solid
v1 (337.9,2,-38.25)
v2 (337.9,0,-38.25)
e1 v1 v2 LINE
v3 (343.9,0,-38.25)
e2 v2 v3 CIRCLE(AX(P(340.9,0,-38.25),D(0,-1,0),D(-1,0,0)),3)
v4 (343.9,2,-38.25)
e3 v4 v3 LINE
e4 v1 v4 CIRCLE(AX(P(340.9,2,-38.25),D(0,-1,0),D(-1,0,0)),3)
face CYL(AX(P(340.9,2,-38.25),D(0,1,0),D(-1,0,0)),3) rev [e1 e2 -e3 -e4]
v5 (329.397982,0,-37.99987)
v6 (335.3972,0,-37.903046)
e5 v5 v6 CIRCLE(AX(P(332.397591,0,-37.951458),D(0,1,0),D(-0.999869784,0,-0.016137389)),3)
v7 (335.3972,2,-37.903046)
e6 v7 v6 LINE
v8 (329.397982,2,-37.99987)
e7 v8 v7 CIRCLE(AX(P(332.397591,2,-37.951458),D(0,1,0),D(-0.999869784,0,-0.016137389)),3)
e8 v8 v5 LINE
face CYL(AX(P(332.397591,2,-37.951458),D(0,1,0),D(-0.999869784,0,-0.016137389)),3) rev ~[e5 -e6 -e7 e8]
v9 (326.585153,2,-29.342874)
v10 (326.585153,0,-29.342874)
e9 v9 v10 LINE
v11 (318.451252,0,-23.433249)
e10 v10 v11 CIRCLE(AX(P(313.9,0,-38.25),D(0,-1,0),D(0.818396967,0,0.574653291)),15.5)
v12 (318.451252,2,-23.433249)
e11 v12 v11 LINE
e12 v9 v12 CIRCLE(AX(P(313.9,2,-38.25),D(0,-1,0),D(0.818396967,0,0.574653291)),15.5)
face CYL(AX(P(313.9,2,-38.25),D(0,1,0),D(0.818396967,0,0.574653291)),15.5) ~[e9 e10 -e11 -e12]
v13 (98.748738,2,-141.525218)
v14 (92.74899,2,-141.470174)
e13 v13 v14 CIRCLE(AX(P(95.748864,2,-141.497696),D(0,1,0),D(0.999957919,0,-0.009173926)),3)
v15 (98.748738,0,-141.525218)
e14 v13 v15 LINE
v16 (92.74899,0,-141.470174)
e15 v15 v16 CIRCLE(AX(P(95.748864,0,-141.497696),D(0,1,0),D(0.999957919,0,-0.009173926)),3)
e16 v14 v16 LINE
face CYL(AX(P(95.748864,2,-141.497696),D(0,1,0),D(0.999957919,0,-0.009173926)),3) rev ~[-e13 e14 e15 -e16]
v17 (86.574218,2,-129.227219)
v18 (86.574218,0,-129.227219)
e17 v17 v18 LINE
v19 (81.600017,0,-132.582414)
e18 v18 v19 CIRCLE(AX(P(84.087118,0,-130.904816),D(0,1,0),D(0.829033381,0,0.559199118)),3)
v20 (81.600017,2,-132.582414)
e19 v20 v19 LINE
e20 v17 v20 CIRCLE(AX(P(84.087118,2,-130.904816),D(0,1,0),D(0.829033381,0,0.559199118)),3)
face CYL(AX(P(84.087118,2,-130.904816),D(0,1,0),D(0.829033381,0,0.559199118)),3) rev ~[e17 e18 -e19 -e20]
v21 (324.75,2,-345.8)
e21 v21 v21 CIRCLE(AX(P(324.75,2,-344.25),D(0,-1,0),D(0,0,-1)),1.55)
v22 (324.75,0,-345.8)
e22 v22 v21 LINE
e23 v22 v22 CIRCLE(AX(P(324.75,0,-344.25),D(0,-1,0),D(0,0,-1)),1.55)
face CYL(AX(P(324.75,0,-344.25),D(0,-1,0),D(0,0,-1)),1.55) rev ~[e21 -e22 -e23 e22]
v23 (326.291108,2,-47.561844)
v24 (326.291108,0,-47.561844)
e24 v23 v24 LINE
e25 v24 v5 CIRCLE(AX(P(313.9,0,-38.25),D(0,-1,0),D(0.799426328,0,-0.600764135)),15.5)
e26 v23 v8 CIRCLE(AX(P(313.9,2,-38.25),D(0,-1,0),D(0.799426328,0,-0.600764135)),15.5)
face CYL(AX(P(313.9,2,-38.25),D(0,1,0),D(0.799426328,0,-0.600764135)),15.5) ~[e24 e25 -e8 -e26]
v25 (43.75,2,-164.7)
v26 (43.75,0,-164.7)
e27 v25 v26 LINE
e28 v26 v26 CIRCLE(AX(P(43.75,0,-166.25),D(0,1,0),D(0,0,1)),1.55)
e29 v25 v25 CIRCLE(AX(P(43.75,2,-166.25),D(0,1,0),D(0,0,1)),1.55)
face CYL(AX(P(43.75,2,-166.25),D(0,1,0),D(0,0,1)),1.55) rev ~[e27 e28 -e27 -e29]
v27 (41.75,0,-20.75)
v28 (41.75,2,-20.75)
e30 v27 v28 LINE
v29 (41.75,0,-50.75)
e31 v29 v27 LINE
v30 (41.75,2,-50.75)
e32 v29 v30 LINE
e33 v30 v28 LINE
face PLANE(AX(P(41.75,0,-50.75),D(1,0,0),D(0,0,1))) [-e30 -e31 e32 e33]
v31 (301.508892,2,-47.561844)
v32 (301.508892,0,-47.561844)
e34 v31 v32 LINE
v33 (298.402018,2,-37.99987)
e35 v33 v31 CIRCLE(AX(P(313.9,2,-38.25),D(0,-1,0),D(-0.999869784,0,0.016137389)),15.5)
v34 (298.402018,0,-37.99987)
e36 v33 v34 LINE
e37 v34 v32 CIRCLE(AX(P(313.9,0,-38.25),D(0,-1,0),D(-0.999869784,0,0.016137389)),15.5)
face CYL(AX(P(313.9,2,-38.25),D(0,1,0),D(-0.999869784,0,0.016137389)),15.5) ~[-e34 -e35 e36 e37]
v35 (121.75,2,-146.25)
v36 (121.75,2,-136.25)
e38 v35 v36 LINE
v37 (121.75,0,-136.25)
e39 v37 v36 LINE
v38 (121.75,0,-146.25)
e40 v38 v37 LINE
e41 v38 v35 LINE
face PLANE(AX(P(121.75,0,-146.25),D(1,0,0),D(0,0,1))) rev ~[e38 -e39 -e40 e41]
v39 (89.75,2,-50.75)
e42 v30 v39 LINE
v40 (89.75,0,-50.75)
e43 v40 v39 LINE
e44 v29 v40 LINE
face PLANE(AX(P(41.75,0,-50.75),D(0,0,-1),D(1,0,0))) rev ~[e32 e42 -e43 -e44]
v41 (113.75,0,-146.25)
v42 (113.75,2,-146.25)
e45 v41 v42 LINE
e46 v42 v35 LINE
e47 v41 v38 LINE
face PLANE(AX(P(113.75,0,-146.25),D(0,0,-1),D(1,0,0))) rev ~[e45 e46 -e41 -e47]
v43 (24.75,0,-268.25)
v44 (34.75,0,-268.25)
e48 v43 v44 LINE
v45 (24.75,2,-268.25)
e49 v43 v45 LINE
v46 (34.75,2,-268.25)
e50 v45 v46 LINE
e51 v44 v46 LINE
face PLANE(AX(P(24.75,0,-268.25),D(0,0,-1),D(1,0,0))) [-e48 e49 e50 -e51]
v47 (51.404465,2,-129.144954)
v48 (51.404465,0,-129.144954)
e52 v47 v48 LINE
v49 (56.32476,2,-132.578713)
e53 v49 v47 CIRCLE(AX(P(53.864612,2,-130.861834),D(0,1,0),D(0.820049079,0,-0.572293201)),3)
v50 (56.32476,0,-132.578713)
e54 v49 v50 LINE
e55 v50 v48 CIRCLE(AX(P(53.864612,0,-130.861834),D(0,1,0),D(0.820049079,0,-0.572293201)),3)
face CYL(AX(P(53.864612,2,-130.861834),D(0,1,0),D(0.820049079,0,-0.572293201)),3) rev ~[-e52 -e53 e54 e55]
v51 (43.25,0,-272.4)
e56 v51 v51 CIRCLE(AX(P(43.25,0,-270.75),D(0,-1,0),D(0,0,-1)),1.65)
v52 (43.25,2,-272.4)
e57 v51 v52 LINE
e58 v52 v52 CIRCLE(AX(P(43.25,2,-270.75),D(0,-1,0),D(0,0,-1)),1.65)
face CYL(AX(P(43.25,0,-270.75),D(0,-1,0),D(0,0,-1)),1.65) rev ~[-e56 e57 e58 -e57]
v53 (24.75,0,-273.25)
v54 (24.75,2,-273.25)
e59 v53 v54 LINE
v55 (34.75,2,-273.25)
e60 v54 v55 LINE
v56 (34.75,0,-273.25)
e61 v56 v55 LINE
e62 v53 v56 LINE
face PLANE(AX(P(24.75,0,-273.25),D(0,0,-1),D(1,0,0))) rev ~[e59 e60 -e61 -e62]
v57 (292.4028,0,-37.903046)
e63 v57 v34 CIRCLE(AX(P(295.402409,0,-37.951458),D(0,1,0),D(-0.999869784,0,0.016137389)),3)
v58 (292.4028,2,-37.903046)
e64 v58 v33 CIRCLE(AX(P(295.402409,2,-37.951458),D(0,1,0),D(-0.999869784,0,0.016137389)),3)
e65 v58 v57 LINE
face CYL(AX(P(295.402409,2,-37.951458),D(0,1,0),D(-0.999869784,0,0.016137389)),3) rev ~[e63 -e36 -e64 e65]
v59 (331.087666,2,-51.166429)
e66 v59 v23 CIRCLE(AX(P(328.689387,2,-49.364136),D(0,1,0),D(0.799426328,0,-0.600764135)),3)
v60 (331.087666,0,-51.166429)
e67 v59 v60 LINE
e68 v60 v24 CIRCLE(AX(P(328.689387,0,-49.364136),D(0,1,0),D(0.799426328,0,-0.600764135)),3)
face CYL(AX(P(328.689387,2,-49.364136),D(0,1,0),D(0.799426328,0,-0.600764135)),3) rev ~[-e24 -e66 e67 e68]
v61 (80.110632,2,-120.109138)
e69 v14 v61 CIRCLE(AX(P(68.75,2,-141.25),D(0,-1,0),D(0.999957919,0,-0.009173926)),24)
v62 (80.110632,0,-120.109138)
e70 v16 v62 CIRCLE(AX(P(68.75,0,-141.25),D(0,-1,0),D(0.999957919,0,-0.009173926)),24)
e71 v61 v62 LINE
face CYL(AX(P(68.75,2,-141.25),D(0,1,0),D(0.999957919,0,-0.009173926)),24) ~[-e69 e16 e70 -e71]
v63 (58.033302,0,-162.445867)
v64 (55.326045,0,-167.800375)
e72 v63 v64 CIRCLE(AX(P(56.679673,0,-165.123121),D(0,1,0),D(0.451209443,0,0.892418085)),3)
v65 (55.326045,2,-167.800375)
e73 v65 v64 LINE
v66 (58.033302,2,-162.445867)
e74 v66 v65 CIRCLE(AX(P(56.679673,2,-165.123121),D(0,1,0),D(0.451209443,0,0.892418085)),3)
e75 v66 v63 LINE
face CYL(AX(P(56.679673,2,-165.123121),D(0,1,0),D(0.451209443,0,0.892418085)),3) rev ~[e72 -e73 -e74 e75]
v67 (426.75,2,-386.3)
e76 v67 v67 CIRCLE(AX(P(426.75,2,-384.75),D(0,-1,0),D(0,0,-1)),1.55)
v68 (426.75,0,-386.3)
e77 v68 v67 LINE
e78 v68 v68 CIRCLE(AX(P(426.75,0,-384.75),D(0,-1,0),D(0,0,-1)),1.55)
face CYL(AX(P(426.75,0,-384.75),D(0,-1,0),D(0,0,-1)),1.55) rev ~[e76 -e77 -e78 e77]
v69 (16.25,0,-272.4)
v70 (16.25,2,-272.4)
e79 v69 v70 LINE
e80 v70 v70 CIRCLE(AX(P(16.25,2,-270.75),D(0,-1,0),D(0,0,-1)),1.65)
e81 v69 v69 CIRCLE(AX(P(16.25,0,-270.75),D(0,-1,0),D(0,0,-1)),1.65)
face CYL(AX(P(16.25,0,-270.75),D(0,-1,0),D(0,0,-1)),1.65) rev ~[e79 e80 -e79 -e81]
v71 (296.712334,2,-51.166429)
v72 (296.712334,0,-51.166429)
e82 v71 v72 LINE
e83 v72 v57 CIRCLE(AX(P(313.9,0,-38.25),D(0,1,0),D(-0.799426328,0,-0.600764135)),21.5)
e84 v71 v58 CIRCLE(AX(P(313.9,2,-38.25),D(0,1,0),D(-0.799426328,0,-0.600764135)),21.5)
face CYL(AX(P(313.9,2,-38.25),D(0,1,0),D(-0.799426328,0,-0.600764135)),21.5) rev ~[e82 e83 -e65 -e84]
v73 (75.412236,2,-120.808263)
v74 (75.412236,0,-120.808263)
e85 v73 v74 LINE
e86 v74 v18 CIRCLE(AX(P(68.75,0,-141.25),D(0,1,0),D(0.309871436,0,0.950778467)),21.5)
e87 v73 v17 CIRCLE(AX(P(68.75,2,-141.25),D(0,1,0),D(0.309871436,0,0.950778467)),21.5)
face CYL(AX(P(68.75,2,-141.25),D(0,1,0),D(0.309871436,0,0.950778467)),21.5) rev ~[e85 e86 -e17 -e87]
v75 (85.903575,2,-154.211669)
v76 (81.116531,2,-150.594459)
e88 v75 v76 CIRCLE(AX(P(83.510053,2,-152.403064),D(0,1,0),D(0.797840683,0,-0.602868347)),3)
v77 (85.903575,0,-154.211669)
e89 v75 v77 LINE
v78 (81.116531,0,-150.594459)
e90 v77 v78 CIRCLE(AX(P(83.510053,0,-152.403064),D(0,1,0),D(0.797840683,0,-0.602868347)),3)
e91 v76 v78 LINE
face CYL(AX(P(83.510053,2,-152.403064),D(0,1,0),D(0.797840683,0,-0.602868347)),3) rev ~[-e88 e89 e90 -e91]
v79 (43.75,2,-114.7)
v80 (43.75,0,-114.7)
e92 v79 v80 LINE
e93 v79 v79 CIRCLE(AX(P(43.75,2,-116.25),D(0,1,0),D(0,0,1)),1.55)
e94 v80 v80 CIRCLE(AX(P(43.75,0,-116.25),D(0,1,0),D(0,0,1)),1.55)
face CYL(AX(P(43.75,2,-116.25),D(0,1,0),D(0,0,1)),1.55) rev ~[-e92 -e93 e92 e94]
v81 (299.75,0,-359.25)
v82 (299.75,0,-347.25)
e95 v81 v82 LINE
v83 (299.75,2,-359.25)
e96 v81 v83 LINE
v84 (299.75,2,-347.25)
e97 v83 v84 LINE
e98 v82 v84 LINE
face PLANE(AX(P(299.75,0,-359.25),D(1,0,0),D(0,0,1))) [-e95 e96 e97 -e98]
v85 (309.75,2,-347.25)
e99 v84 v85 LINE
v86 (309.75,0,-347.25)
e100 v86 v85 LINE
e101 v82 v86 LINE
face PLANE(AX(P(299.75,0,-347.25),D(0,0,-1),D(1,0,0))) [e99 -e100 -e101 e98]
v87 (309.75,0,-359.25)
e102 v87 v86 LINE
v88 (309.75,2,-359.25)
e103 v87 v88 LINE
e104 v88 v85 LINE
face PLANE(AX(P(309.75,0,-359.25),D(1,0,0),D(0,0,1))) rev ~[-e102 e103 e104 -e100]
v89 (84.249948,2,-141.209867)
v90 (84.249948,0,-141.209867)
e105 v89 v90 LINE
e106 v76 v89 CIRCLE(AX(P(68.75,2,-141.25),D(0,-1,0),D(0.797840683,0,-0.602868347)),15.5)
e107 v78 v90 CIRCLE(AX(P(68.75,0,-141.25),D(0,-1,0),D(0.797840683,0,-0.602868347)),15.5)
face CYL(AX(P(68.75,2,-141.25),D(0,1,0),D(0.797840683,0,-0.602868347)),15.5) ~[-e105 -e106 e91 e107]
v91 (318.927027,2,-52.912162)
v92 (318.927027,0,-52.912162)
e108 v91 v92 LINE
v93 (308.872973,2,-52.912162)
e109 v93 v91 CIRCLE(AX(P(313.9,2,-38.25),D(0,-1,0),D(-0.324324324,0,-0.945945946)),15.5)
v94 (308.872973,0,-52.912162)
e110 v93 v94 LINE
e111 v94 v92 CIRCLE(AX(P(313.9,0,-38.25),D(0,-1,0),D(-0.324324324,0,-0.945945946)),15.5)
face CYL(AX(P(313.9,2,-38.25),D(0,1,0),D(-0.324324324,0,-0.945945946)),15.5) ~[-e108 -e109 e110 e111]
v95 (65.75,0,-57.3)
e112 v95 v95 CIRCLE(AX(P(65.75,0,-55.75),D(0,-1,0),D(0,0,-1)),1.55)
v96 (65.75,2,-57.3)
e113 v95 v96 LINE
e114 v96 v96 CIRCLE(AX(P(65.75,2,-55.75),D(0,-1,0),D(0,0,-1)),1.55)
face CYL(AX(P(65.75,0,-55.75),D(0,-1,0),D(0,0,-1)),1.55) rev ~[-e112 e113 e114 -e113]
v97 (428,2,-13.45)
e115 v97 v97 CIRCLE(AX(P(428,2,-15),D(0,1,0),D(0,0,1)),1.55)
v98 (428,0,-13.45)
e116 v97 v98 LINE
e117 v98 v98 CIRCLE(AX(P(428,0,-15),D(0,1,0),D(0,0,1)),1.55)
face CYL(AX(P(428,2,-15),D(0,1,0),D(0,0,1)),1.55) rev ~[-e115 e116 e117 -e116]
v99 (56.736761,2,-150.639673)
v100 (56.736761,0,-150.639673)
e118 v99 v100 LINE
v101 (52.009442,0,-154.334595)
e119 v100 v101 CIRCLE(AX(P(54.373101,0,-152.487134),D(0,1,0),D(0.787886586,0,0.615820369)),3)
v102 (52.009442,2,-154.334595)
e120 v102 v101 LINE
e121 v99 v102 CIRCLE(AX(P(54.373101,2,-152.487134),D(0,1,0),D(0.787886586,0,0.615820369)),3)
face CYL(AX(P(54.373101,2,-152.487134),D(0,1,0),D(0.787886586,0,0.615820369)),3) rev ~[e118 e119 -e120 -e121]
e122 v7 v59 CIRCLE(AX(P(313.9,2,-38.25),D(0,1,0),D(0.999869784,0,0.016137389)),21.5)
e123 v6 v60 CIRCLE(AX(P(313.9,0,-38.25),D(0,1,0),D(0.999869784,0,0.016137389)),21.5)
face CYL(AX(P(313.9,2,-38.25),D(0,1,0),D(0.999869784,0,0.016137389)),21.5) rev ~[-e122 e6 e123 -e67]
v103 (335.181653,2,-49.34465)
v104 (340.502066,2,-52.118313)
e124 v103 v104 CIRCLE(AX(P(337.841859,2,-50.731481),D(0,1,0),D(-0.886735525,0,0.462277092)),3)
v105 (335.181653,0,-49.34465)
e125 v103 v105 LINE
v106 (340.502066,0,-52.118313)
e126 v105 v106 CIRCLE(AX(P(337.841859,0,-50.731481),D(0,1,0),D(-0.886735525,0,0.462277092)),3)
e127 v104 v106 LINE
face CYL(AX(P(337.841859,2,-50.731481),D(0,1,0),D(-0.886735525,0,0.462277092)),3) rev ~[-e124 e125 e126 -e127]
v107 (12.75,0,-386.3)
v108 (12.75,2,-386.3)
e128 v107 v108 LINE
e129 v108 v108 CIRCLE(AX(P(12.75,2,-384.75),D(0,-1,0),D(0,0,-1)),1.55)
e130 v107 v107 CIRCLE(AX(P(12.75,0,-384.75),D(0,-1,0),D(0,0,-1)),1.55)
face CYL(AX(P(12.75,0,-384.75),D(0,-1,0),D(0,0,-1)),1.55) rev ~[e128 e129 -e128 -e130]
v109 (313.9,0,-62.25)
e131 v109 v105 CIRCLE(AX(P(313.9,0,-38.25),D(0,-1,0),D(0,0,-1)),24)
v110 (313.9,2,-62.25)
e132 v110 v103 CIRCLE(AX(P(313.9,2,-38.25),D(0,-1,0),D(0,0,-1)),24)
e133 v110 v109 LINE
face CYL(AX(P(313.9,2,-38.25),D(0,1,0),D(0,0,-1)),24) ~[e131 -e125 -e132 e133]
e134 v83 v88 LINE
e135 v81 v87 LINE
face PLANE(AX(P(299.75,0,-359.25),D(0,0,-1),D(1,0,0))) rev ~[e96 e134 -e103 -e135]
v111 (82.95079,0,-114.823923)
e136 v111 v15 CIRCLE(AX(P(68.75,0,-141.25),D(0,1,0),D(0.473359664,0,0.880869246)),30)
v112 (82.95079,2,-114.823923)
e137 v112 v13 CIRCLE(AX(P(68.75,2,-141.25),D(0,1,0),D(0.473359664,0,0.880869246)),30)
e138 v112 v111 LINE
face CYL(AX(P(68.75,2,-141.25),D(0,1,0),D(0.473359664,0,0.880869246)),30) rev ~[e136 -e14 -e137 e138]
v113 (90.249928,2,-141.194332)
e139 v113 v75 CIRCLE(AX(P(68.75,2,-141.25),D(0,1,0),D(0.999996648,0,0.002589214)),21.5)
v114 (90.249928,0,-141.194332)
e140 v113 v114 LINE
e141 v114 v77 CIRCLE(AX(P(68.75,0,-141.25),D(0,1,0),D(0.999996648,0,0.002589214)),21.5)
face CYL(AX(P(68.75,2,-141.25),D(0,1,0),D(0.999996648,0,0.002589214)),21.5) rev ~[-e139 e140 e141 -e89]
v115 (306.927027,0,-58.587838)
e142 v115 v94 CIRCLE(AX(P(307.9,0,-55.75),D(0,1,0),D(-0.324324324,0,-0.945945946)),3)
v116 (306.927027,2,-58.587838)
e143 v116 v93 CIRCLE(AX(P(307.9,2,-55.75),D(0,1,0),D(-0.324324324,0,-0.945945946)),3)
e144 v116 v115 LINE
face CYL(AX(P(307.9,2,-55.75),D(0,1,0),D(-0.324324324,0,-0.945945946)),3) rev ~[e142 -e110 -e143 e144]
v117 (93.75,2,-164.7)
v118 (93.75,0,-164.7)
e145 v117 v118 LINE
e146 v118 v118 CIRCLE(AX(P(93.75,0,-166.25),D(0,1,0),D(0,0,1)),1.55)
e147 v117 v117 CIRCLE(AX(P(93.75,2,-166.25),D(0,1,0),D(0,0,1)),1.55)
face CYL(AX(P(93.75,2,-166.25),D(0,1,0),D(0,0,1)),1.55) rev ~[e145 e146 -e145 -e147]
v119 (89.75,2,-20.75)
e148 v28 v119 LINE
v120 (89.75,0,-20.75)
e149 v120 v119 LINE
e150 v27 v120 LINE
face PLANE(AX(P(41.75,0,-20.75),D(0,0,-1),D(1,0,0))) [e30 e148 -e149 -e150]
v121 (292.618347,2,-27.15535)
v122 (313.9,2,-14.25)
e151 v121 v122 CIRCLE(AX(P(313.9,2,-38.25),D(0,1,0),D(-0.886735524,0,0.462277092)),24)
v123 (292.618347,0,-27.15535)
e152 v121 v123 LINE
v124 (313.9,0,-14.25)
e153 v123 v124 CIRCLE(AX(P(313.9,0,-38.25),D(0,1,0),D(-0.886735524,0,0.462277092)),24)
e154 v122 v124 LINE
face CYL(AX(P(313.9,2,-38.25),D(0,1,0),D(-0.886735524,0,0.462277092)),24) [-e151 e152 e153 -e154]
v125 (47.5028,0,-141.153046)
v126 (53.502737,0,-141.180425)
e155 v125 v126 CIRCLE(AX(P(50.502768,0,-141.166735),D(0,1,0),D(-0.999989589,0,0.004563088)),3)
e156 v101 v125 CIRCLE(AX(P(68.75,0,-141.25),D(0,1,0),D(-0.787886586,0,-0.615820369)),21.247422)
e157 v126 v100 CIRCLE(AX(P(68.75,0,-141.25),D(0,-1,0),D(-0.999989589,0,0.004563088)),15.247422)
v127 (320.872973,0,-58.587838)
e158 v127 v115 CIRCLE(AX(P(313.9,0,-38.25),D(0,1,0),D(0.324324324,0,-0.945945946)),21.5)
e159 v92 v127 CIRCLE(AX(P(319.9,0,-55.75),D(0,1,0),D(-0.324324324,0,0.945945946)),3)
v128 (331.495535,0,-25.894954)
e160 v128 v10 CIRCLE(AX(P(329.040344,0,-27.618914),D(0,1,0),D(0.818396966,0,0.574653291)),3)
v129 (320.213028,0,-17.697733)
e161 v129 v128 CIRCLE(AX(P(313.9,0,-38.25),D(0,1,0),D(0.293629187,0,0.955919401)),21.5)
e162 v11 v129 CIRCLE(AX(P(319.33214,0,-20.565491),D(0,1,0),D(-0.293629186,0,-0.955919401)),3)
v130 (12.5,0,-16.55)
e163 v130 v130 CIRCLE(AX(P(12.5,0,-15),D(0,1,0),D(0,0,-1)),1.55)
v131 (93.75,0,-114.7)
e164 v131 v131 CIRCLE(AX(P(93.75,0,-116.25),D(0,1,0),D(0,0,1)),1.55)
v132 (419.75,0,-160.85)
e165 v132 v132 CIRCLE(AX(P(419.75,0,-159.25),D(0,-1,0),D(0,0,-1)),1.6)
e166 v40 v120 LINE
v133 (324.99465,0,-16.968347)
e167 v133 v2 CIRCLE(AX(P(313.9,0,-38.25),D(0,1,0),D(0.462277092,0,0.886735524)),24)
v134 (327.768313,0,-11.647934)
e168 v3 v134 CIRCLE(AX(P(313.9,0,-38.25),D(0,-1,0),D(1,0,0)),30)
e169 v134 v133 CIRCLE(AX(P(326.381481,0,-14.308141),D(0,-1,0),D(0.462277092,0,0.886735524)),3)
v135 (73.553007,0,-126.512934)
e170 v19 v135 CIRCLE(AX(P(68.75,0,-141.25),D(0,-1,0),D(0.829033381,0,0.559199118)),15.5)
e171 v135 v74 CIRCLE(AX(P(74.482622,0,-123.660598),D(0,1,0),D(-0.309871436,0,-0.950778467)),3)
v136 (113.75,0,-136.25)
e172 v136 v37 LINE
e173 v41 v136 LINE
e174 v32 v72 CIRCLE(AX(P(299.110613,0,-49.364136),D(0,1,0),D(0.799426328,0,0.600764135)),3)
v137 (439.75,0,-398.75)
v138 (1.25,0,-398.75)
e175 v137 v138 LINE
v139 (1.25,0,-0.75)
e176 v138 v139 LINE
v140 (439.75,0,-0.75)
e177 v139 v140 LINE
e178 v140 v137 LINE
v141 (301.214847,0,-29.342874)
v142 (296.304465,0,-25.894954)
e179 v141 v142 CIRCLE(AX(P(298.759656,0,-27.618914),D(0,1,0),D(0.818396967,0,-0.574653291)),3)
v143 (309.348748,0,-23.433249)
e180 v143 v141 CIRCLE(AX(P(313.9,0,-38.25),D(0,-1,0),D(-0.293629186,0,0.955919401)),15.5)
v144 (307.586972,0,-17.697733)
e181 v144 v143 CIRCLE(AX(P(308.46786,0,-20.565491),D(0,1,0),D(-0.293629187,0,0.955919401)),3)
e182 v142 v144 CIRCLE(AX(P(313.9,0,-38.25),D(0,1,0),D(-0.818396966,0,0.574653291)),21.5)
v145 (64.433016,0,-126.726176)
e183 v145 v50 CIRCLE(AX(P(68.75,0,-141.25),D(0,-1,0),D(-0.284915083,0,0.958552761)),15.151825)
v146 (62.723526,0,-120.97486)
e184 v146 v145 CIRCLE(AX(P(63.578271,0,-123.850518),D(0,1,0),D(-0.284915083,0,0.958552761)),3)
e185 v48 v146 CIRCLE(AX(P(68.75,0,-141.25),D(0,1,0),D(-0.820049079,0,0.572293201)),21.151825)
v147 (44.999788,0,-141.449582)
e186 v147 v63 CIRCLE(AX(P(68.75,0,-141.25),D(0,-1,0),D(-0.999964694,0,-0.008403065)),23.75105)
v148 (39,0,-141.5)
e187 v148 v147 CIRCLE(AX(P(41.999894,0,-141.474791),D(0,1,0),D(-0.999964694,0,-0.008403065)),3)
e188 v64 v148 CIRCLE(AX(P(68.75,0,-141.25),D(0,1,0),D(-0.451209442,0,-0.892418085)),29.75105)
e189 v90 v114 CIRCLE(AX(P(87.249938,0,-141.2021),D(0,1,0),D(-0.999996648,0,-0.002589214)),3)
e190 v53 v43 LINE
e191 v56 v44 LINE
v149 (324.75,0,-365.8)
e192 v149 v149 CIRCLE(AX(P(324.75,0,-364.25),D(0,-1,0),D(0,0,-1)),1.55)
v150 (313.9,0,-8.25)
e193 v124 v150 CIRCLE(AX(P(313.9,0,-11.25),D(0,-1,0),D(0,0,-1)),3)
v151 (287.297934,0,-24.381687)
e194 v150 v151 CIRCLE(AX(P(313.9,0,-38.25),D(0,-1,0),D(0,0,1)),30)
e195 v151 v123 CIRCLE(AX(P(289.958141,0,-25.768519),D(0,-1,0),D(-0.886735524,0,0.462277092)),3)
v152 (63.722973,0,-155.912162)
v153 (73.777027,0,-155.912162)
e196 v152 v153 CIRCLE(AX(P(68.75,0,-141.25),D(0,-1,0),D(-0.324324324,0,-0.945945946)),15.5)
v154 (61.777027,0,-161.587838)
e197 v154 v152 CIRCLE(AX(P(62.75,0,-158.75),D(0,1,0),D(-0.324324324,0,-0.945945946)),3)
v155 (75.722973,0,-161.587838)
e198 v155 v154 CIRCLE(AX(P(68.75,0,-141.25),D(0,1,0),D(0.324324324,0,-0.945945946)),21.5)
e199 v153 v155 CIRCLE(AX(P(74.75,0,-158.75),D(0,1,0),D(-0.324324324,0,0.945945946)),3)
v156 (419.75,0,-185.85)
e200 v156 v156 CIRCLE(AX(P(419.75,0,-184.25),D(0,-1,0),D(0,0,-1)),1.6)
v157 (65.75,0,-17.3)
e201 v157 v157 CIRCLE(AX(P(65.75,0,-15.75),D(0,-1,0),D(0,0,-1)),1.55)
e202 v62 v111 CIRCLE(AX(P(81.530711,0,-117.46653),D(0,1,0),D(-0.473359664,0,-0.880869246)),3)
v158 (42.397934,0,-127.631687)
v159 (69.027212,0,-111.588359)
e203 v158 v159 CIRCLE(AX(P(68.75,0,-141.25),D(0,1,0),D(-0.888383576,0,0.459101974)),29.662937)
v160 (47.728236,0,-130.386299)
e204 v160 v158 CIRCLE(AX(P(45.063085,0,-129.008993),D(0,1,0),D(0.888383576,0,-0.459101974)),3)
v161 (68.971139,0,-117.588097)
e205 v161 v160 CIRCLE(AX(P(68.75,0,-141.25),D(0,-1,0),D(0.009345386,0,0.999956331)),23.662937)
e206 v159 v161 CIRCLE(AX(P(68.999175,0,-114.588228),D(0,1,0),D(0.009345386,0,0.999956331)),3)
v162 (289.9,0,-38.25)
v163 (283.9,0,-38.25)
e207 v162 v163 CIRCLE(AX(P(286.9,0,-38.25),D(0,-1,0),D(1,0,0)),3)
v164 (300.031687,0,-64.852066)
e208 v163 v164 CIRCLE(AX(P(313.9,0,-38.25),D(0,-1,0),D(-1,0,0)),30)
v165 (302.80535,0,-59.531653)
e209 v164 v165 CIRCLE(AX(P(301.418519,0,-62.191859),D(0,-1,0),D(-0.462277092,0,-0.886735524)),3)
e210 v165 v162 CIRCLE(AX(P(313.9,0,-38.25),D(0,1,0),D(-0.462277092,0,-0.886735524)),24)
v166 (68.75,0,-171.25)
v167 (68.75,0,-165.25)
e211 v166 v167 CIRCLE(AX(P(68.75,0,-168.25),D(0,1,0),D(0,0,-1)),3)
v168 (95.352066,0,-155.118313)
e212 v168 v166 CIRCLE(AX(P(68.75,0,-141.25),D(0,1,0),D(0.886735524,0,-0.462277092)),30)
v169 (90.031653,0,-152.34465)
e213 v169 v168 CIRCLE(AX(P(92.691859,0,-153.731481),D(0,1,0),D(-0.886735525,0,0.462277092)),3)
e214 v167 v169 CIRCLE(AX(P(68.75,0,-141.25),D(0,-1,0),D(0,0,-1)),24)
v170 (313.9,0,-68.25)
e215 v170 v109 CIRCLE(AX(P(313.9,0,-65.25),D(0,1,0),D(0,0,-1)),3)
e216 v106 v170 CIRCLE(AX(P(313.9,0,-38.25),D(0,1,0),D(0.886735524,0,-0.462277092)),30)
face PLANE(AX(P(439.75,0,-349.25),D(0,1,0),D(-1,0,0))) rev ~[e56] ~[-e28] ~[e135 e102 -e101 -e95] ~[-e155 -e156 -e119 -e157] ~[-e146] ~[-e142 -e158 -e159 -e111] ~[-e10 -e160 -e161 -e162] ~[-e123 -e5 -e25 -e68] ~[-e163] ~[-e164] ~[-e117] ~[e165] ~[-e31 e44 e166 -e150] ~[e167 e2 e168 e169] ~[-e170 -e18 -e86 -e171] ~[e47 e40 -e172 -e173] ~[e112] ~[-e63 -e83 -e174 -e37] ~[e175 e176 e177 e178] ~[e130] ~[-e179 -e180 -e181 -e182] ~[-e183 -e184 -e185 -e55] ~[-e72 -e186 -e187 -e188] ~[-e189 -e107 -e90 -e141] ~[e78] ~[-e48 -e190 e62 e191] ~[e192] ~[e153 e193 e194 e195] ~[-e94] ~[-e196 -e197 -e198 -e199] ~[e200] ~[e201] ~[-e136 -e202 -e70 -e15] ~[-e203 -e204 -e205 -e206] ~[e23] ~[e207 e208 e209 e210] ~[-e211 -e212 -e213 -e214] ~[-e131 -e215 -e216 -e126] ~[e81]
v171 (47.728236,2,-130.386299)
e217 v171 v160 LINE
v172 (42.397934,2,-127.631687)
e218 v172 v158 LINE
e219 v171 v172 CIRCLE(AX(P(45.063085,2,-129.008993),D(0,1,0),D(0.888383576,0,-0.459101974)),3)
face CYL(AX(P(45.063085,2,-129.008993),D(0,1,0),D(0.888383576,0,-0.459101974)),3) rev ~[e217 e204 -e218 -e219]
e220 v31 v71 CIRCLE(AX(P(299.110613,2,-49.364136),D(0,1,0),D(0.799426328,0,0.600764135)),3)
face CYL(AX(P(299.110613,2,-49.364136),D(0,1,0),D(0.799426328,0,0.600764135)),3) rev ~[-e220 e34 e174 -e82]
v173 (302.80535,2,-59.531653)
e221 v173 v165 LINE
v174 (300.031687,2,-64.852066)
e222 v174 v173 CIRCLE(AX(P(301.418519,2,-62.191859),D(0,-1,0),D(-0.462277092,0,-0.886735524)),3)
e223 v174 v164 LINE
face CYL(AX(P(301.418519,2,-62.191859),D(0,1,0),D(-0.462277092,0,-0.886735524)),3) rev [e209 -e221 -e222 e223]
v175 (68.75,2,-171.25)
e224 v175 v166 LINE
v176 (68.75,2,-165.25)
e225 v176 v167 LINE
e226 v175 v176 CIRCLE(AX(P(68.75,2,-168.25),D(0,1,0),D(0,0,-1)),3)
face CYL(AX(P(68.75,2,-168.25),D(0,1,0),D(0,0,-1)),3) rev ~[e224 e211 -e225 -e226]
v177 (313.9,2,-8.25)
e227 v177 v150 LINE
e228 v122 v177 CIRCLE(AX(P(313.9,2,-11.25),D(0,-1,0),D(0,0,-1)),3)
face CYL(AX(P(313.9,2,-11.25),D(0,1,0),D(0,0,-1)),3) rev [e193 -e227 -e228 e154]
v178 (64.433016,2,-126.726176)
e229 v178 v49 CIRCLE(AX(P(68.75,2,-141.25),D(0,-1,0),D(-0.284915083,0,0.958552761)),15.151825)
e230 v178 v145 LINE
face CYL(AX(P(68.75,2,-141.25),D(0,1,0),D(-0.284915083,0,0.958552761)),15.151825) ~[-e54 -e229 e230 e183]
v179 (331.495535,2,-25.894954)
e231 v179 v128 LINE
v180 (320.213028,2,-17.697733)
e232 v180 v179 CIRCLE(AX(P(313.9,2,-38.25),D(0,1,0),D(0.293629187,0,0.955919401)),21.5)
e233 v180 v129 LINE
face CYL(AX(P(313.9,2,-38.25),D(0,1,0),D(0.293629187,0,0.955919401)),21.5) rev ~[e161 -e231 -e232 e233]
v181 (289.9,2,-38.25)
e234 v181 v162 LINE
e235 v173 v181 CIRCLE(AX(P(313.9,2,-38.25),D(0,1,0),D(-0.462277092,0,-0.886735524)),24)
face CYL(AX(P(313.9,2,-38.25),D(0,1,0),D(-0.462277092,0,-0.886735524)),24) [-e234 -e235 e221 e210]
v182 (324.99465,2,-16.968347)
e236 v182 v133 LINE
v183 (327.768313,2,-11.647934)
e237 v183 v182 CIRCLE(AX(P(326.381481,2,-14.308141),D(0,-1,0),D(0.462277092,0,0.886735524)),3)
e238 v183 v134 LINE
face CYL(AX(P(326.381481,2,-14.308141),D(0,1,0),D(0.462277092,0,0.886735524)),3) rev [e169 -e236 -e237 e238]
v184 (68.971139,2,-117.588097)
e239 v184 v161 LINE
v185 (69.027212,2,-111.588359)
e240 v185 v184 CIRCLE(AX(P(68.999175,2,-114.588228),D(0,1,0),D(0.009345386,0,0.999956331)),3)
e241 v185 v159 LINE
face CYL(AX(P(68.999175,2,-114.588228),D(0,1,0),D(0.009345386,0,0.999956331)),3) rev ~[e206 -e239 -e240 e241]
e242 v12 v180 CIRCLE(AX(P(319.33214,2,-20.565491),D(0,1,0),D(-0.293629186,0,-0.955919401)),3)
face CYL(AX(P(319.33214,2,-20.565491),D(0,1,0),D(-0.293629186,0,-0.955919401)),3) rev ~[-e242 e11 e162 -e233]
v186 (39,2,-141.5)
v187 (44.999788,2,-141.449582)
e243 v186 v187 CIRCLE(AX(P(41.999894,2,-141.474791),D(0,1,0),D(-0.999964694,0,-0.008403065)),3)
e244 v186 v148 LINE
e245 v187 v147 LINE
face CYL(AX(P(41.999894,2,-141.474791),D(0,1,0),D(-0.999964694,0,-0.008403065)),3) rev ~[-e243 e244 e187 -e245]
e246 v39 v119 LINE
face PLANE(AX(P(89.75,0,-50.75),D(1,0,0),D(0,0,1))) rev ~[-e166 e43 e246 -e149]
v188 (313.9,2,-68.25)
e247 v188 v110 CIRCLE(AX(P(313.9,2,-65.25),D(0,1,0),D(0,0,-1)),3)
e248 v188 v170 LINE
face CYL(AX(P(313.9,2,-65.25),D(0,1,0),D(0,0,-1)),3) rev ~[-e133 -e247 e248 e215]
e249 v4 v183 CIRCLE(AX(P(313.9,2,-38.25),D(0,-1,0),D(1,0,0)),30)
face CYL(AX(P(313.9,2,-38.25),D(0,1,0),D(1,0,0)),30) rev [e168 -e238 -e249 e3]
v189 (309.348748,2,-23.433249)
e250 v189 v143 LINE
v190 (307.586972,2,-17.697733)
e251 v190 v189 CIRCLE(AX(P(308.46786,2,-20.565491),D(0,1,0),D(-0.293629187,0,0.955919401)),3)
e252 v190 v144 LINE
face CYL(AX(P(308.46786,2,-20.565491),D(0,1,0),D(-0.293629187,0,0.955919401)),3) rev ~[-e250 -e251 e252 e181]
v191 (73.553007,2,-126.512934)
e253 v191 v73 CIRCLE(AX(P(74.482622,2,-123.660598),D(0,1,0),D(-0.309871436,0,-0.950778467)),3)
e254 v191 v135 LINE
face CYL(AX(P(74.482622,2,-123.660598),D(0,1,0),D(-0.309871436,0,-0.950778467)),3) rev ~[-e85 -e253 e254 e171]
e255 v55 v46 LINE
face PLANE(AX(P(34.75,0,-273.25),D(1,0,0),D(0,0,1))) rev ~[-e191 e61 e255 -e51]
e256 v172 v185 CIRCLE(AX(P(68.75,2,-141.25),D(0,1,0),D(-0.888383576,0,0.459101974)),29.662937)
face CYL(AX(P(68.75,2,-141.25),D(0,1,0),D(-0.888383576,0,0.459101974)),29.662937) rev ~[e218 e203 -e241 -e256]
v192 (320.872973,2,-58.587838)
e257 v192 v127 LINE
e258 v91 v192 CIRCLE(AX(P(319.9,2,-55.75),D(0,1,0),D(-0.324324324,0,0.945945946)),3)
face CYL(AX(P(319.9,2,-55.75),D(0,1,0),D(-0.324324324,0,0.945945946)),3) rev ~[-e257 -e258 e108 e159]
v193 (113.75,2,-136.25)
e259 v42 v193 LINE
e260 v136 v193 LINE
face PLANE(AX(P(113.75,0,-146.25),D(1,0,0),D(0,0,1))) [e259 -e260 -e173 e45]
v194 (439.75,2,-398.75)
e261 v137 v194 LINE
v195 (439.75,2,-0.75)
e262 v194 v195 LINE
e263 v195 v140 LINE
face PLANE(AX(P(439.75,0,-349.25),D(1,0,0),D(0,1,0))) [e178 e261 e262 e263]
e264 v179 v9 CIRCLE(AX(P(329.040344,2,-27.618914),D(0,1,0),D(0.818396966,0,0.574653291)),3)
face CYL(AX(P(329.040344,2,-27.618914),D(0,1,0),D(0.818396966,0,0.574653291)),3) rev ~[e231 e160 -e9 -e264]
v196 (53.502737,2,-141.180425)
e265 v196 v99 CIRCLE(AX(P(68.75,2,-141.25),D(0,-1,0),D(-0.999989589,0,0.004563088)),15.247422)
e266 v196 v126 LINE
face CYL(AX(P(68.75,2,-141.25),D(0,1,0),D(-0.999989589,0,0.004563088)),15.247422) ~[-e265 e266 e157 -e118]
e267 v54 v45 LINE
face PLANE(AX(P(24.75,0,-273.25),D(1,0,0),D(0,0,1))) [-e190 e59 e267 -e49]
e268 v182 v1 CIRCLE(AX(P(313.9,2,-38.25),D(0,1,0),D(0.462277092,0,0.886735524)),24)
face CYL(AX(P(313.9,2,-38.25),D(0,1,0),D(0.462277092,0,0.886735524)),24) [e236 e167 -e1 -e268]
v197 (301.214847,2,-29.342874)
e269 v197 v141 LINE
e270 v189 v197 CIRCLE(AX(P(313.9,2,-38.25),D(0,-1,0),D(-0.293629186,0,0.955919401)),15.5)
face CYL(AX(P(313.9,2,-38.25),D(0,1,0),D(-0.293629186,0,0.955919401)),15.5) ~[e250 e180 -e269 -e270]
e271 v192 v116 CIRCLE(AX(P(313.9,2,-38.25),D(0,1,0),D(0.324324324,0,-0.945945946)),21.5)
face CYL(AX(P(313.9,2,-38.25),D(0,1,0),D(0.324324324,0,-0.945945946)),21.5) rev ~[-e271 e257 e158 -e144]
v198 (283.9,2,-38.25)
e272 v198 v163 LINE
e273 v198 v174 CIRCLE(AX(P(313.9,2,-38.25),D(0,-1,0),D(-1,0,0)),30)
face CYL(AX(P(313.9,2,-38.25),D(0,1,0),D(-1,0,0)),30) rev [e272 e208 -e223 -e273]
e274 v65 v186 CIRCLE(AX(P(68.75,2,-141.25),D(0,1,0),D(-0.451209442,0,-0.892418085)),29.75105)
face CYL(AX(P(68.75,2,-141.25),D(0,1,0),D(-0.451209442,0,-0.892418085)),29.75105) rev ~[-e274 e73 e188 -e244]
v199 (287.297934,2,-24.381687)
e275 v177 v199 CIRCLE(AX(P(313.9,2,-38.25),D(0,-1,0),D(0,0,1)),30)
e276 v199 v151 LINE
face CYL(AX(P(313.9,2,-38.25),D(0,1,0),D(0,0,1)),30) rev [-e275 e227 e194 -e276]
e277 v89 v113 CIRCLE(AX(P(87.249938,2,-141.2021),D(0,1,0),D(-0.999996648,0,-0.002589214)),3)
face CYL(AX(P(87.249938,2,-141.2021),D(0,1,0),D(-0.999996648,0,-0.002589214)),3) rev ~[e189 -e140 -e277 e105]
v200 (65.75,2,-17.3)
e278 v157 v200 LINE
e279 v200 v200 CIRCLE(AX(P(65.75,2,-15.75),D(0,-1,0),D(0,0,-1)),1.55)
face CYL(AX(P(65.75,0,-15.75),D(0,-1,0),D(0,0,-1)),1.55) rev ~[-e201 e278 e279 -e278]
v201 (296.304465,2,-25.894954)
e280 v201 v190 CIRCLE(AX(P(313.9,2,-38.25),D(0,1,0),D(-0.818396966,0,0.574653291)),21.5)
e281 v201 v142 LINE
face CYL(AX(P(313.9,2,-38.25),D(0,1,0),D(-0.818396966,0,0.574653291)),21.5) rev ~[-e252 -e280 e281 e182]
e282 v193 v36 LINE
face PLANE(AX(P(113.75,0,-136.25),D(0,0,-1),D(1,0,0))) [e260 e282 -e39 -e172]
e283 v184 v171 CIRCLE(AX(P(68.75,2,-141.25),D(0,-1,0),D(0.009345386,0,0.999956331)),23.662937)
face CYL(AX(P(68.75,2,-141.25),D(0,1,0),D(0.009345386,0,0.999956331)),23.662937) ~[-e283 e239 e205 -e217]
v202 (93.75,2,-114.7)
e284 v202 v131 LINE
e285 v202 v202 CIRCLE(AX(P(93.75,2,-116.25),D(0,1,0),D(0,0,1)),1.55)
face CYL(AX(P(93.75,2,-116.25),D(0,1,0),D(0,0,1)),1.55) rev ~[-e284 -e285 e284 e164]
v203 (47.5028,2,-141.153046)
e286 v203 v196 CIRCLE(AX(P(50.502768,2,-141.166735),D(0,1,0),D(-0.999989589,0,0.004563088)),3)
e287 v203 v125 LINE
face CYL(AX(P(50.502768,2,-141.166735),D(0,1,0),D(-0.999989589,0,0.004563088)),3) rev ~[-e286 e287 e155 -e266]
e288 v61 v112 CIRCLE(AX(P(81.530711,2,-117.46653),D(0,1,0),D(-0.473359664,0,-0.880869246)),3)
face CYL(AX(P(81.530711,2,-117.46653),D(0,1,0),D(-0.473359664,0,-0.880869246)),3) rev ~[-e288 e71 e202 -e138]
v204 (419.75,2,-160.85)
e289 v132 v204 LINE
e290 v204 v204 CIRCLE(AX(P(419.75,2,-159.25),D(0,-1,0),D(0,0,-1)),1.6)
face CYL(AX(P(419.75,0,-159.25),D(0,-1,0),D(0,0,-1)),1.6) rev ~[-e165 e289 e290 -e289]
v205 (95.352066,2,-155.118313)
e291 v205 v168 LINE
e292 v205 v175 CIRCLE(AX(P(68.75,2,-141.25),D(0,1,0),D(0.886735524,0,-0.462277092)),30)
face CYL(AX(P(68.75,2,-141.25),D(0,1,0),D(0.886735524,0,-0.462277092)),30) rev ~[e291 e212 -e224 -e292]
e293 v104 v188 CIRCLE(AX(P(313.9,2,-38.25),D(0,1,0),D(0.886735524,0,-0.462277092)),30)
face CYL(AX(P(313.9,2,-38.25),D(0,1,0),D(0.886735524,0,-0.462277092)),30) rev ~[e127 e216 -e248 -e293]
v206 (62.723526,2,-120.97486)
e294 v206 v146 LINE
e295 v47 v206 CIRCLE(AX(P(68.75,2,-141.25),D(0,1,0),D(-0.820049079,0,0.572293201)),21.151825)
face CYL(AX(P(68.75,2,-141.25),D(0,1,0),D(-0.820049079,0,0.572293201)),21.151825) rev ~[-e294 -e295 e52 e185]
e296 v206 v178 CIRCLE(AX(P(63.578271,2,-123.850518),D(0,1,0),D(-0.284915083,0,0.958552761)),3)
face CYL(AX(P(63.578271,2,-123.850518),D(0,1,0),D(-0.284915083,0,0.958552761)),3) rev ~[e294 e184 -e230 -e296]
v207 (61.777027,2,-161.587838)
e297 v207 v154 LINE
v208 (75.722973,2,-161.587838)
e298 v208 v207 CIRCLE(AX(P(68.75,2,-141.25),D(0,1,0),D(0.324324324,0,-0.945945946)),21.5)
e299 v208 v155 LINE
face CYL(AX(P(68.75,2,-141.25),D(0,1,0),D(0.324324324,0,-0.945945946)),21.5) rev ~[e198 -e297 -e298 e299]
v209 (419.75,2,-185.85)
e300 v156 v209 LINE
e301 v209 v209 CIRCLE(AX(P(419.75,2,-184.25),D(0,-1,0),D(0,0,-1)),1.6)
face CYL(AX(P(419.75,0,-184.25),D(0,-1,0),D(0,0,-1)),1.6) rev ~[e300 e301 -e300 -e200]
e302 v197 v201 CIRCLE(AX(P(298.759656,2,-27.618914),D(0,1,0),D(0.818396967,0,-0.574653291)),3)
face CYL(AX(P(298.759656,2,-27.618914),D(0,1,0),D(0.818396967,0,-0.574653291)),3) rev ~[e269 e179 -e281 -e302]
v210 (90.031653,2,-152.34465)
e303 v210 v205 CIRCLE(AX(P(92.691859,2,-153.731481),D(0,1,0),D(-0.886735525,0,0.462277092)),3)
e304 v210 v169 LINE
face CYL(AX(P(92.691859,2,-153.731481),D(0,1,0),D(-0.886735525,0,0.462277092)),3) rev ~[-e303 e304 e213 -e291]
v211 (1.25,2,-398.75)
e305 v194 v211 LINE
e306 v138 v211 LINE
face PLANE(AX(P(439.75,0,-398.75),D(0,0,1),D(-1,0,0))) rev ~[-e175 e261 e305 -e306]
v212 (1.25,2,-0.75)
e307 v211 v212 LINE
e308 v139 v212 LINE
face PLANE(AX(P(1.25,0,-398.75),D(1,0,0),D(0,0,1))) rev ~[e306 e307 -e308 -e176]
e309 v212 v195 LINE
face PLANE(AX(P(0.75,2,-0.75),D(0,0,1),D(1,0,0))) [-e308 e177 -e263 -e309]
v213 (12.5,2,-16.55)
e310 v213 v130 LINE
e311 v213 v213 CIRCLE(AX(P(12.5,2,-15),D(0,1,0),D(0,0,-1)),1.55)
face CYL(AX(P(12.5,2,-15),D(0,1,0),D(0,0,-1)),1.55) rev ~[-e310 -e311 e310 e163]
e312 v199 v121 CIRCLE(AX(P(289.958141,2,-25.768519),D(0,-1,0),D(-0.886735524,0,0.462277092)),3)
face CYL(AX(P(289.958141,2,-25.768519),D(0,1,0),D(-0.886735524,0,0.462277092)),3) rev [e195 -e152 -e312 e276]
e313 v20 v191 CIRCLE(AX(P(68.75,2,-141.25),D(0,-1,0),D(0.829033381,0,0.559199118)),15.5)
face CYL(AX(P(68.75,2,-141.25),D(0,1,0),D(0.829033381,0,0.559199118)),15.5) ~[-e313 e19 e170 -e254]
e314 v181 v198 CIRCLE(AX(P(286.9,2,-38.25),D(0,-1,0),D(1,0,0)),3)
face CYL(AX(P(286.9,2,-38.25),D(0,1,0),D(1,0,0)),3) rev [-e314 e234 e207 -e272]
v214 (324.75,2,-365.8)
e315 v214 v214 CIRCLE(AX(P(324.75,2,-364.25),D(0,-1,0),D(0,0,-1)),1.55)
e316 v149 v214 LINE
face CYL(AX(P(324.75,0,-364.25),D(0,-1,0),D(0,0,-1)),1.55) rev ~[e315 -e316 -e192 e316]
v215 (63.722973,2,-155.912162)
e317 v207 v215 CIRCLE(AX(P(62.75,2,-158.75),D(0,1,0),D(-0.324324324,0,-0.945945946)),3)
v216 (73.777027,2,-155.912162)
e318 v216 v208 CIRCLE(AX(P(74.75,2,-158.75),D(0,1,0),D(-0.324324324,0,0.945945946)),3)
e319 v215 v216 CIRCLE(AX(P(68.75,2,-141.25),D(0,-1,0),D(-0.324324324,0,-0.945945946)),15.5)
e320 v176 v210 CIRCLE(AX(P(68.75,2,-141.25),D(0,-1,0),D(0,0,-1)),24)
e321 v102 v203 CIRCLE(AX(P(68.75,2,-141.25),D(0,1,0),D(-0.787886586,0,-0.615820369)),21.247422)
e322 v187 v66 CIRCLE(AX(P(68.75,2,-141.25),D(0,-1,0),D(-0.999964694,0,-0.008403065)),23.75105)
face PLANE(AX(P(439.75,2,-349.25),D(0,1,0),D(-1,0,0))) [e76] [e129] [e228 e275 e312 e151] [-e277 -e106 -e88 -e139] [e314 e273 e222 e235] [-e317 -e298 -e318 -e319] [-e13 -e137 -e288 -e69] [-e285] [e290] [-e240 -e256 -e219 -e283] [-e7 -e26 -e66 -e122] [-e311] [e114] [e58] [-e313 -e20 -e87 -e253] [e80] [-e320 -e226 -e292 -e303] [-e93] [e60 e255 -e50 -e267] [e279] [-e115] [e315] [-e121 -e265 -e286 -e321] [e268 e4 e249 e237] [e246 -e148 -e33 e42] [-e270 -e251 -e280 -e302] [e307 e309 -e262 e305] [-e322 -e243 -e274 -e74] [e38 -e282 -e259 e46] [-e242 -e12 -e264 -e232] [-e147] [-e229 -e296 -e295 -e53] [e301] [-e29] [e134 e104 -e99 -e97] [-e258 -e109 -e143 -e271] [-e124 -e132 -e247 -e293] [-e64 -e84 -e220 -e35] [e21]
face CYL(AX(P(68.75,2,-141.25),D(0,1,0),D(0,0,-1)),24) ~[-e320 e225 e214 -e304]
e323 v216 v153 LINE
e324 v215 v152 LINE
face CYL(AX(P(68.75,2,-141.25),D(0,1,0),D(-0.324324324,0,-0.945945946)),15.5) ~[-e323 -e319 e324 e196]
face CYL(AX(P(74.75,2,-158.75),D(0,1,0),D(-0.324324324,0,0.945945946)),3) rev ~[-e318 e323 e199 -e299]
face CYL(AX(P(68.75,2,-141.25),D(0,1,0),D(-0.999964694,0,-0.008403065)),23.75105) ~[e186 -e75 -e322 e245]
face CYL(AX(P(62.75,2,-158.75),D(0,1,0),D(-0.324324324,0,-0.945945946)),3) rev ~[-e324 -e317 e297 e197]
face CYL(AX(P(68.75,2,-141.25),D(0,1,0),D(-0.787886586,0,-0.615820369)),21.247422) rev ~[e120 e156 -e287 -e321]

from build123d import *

# Parameters (mm, degrees)
CROQUIS1_W              = 440.5
CROQUIS1_H              = 320
SALIENTE_EXTRUIR1_DEPTH = 2
CROQUIS2_R              = 1.55
CORTAR_EXTRUIR1_DEPTH   = 2
CROQUIS3_W              = 440.5
CROQUIS3_H              = 320
CROQUIS3_W_2            = 439
CROQUIS3_H_2            = 318.5
CORTAR_EXTRUIR2_DEPTH   = 2
CROQUIS4_R              = 1.55
CORTAR_EXTRUIR3_DEPTH   = 2
CROQUIS5_R              = 1.55
CROQUIS5_W              = 48
CROQUIS5_H              = 30
CORTAR_EXTRUIR4_DEPTH   = 2
CROQUIS8_W              = 439
CROQUIS8_H              = 30
SALIENTE_EXTRUIR2_DEPTH = 2
CROQUIS10_R             = 1.75
SALIENTE_EXTRUIR3_DEPTH = 2
CROQUIS11_W             = 439
CROQUIS11_H             = 2
SALIENTE_EXTRUIR4_DEPTH = 50
CROQUIS12_R             = 1.55
CORTAR_EXTRUIR8_DEPTH   = 2
CROQUIS13_R             = 1.55
CROQUIS13_W             = 10
CROQUIS13_H             = 12
CORTAR_EXTRUIR9_DEPTH   = 2
CROQUIS14_W             = 8
CROQUIS14_H             = 10
CORTAR_EXTRUIR10_DEPTH  = 2
CROQUIS15_R             = 1.6
CORTAR_EXTRUIR11_DEPTH  = 2
CROQUIS18_W             = 0.5
CROQUIS18_H             = 398
CORTAR_EXTRUIR13_DEPTH  = 2
CROQUIS19_R             = 1.65
CROQUIS19_W             = 10
CROQUIS19_H             = 5
CORTAR_EXTRUIR14_DEPTH  = 2


with BuildPart() as part:
    # Croquis1 → Saliente-Extruir1 (new body)
    with BuildSketch(Plane(origin=(0, 0, 0), x_dir=(1, 0, 0), z_dir=(0, 1, 0))):
        with Locations((220.25, 160)):
            Rectangle(CROQUIS1_W, CROQUIS1_H)
    extrude(amount=SALIENTE_EXTRUIR1_DEPTH)

    # Croquis2 → Cortar-Extruir1 (cut)
    with BuildSketch(Plane(origin=(0, 2, 0), x_dir=(1, 0, 0), z_dir=(0, 1, 0))):
        with Locations(Location((12.5, 305, 0), (0, 0, 270))):
            Circle(CROQUIS2_R)
        with Locations(Location((428, 305, 0), (0, 0, 90))):
            Circle(CROQUIS2_R)
        with Locations(Location((428, 15, 0), (0, 0, 270))):
            Circle(CROQUIS2_R)
        with Locations(Location((12.5, 15, 0), (0, 0, 90))):
            Circle(CROQUIS2_R)
    extrude(amount=-CORTAR_EXTRUIR1_DEPTH, mode=Mode.SUBTRACT)

    # Croquis3 → Cortar-Extruir2 (cut)
    with BuildSketch(Plane(origin=(0, 2, 0), x_dir=(1, 0, 0), z_dir=(0, 1, 0))):
        with Locations((220.25, 160)):
            Rectangle(CROQUIS3_W, CROQUIS3_H)
        with Locations((220.25, 160)):
            Rectangle(CROQUIS3_W_2, CROQUIS3_H_2, mode=Mode.SUBTRACT)
    extrude(amount=-CORTAR_EXTRUIR2_DEPTH, mode=Mode.SUBTRACT)

    # Croquis4 → Cortar-Extruir3 (cut)
    with BuildSketch(Plane(origin=(0, 2, 0), x_dir=(1, 0, 0), z_dir=(0, 1, 0))):
        with Locations(Location((93.75, 166.25, 0), (0, 0, 270))):
            Circle(CROQUIS4_R)
        with Locations(Location((93.75, 116.25, 0), (0, 0, 270))):
            Circle(CROQUIS4_R)
        with Locations(Location((43.75, 116.25, 0), (0, 0, 270))):
            Circle(CROQUIS4_R)
        with Locations(Location((43.75, 166.25, 0), (0, 0, 270))):
            Circle(CROQUIS4_R)
        with BuildLine():
            ThreePointArc((340.502065733, 52.118312757), (329.455555556, 63.901991957), (313.9, 68.25))
            ThreePointArc((313.9, 68.25), (310.9, 65.25), (313.9, 62.25))
            ThreePointArc((313.9, 62.25), (326.344444444, 58.771593566), (335.181652586, 49.344650206))
            ThreePointArc((335.181652586, 49.344650206), (339.228690436, 48.071274908), (340.502065733, 52.118312757))
        make_face()
        with BuildLine():
            ThreePointArc((324.994650206, 16.968347414), (334.421593566, 25.805555556), (337.9, 38.25))
            ThreePointArc((337.9, 38.25), (340.9, 41.25), (343.9, 38.25))
            ThreePointArc((343.9, 38.25), (339.551991957, 22.694444444), (327.768312757, 11.647934267))
            ThreePointArc((327.768312757, 11.647934267), (323.721274908, 12.921309564), (324.994650206, 16.968347414))
        make_face()
        with BuildLine():
            ThreePointArc((292.618347414, 27.155349794), (301.455555556, 17.728406434), (313.9, 14.25))
            ThreePointArc((313.9, 14.25), (316.9, 11.25), (313.9, 8.25))
            ThreePointArc((313.9, 8.25), (298.344444444, 12.598008043), (287.297934267, 24.381687243))
            ThreePointArc((287.297934267, 24.381687243), (288.571309564, 28.428725092), (292.618347414, 27.155349794))
        make_face()
        with BuildLine():
            ThreePointArc((302.805349794, 59.531652586), (293.378406434, 50.694444444), (289.9, 38.25))
            ThreePointArc((289.9, 38.25), (286.9, 35.25), (283.9, 38.25))
            ThreePointArc((283.9, 38.25), (288.248008043, 53.805555556), (300.031687243, 64.852065733))
            ThreePointArc((300.031687243, 64.852065733), (304.078725092, 63.578690436), (302.805349794, 59.531652586))
        make_face()
        with BuildLine():
            ThreePointArc((320.872972973, 58.587837838), (313.9, 59.75), (306.927027027, 58.587837838))
            ThreePointArc((306.927027027, 58.587837838), (305.062162162, 54.777027027), (308.872972973, 52.912162162))
            ThreePointArc((308.872972973, 52.912162162), (313.9, 53.75), (318.927027027, 52.912162162))
            ThreePointArc((318.927027027, 52.912162162), (322.737837838, 54.777027027), (320.872972973, 58.587837838))
        make_face()
        with BuildLine():
            ThreePointArc((335.397200353, 37.903046137), (334.3477151, 44.893865379), (331.087666053, 51.166428905))
            ThreePointArc((331.087666053, 51.166428905), (326.887094664, 51.762415483), (326.291108085, 47.561844094))
            ThreePointArc((326.291108085, 47.561844094), (328.641376003, 43.039763413), (329.39798165, 37.999870471))
            ThreePointArc((329.39798165, 37.999870471), (332.349178834, 34.951848952), (335.397200353, 37.903046137))
        make_face()
        with BuildLine():
            ThreePointArc((320.213027508, 17.697732882), (326.537382924, 20.856134621), (331.495534781, 25.894954238))
            ThreePointArc((331.495534781, 25.894954238), (330.764303755, 30.074105012), (326.585152982, 29.342873986))
            ThreePointArc((326.585152982, 29.342873986), (323.010671411, 25.710236587), (318.45125239, 23.433249287))
            ThreePointArc((318.45125239, 23.433249287), (316.464381746, 19.684603525), (320.213027508, 17.697732882))
        make_face()
        with BuildLine():
            ThreePointArc((296.304465219, 25.894954238), (301.262617076, 20.856134621), (307.586972492, 17.697732882))
            ThreePointArc((307.586972492, 17.697732882), (311.335618254, 19.684603525), (309.34874761, 23.433249287))
            ThreePointArc((309.34874761, 23.433249287), (304.789328589, 25.710236587), (301.214847018, 29.342873986))
            ThreePointArc((301.214847018, 29.342873986), (297.035696245, 30.074105012), (296.304465219, 25.894954238))
        make_face()
        with BuildLine():
            ThreePointArc((296.712333947, 51.166428905), (293.4522849, 44.893865379), (292.402799647, 37.903046137))
            ThreePointArc((292.402799647, 37.903046137), (295.450821166, 34.951848952), (298.40201835, 37.999870471))
            ThreePointArc((298.40201835, 37.999870471), (299.158623997, 43.039763413), (301.508891915, 47.561844094))
            ThreePointArc((301.508891915, 47.561844094), (300.912905336, 51.762415483), (296.712333947, 51.166428905))
        make_face()
        with BuildLine():
            ThreePointArc((95.352065733, 155.118312757), (84.305555556, 166.901991957), (68.75, 171.25))
            ThreePointArc((68.75, 171.25), (65.75, 168.25), (68.75, 165.25))
            ThreePointArc((68.75, 165.25), (81.194444444, 161.771593566), (90.031652586, 152.344650206))
            ThreePointArc((90.031652586, 152.344650206), (94.078690436, 151.071274908), (95.352065733, 155.118312757))
        make_face()
        with BuildLine():
            ThreePointArc((82.950789921, 114.823922622), (94.569359948, 125.9738535), (98.74873756, 141.525217776))
            ThreePointArc((98.74873756, 141.525217776), (95.721342026, 144.497569754), (92.748990048, 141.470174221))
            ThreePointArc((92.748990048, 141.470174221), (89.405487958, 129.0290828), (80.110631937, 120.109138097))
            ThreePointArc((80.110631937, 120.109138097), (78.888103191, 116.046451367), (82.950789921, 114.823922622))
        make_face()
        with BuildLine():
            ThreePointArc((75.722972973, 161.587837838), (68.75, 162.75), (61.777027027, 161.587837838))
            ThreePointArc((61.777027027, 161.587837838), (59.912162162, 157.777027027), (63.722972973, 155.912162162))
            ThreePointArc((63.722972973, 155.912162162), (68.75, 156.75), (73.777027027, 155.912162162))
            ThreePointArc((73.777027027, 155.912162162), (77.587837838, 157.777027027), (75.722972973, 161.587837838))
        make_face()
        with BuildLine():
            ThreePointArc((42.397934267, 127.631687243), (53.442433173, 115.841965669), (69.027211601, 111.588358702))
            ThreePointArc((69.027211601, 111.588358702), (71.999044435, 114.616263854), (68.971139283, 117.588096688))
            ThreePointArc((68.971139283, 117.588096688), (56.538734866, 120.981315416), (47.728235722, 130.386299084))
            ThreePointArc((47.728235722, 130.386299084), (43.685779074, 131.674143891), (42.397934267, 127.631687243))
        make_face()
        with BuildLine():
            ThreePointArc((55.326045135, 167.800375436), (43.473033574, 156.940760603), (39, 141.5))
            ThreePointArc((39, 141.5), (41.974684887, 138.474896725), (44.999788162, 141.449581612))
            ThreePointArc((44.999788162, 141.449581612), (48.570729168, 153.776349184), (58.03330179, 162.445866924))
            ThreePointArc((58.03330179, 162.445866924), (59.356927718, 166.476749507), (55.326045135, 167.800375436))
        make_face()
        with BuildLine():
            ThreePointArc((90.249927932, 141.194331889), (89.143285307, 148.059105257), (85.903574688, 154.211669469))
            ThreePointArc((85.903574688, 154.211669469), (81.701447596, 154.796586476), (81.116530589, 150.594459385))
            ThreePointArc((81.116530589, 150.594459385), (83.452135919, 146.158889836), (84.249948044, 141.209867176))
            ThreePointArc((84.249948044, 141.209867176), (87.242170344, 138.202109589), (90.249927932, 141.194331889))
        make_face()
        with BuildLine():
            ThreePointArc((75.412235869, 120.80826296), (81.696671654, 124.085102882), (86.574217683, 129.227218958))
            ThreePointArc((86.574217683, 129.227218958), (85.764714896, 133.391916454), (81.600017399, 132.582413667))
            ThreePointArc((81.600017399, 132.582413667), (78.083647006, 128.875306729), (73.553007255, 126.512933762))
            ThreePointArc((73.553007255, 126.512933762), (71.630286161, 122.730984053), (75.412235869, 120.80826296))
        make_face()
        with BuildLine():
            ThreePointArc((51.404465219, 129.144954238), (56.370569041, 124.099215794), (62.723525964, 120.974859546))
            ThreePointArc((62.723525964, 120.974859546), (66.453929496, 122.99577258), (64.433016462, 126.726176112))
            ThreePointArc((64.433016462, 126.726176112), (59.882161304, 128.964266645), (56.324759692, 132.578713446))
            ThreePointArc((56.324759692, 132.578713446), (52.147732852, 133.321981079), (51.404465219, 129.144954238))
        make_face()
        with BuildLine():
            ThreePointArc((52.00944156, 154.334594989), (48.645130887, 148.123657021), (47.502799647, 141.153046137))
            ThreePointArc((47.502799647, 141.153046137), (50.516457679, 138.166766635), (53.502737181, 141.180424667))
            ThreePointArc((53.502737181, 141.180424667), (54.322488695, 146.182624222), (56.736761078, 150.639672774))
            ThreePointArc((56.736761078, 150.639672774), (56.220562427, 154.85079364), (52.00944156, 154.334594989))
        make_face()
    extrude(amount=-CORTAR_EXTRUIR3_DEPTH, mode=Mode.SUBTRACT)

    # Croquis5 → Cortar-Extruir4 (cut)
    with BuildSketch(Plane.XZ):
        with Locations(Location((65.75, -15.75, 0), (0, 0, 270))):
            Circle(CROQUIS5_R)
        with Locations(Location((65.75, -55.75, 0), (0, 0, 270))):
            Circle(CROQUIS5_R)
        with Locations((65.75, -35.75)):
            Rectangle(CROQUIS5_W, CROQUIS5_H)
    extrude(amount=-CORTAR_EXTRUIR4_DEPTH, mode=Mode.SUBTRACT)

    # Croquis8 → Saliente-Extruir2 (add)
    with BuildSketch(Plane.XZ):
        with Locations((220.25, -334.25)):
            Rectangle(CROQUIS8_W, CROQUIS8_H)
    extrude(amount=-SALIENTE_EXTRUIR2_DEPTH)

    # Croquis10 → Saliente-Extruir3 (add)
    with BuildSketch(Plane.XZ):
        with Locations((428, -305)):
            Circle(CROQUIS10_R)
        with Locations((12.5, -305)):
            Circle(CROQUIS10_R)
    extrude(amount=-SALIENTE_EXTRUIR3_DEPTH)

    # Croquis11 → Saliente-Extruir4 (add)
    with BuildSketch(Plane(origin=(0, 0, -349.25), x_dir=(-1, 0, 0), z_dir=(0, 0, -1))):
        with Locations((-220.25, 1)):
            Rectangle(CROQUIS11_W, CROQUIS11_H)
    extrude(amount=SALIENTE_EXTRUIR4_DEPTH)

    # Croquis12 → Cortar-Extruir8 (cut)
    with BuildSketch(Plane.XZ):
        with Locations(Location((426.75, -384.75, 0), (0, 0, 270))):
            Circle(CROQUIS12_R)
        with Locations(Location((12.75, -384.75, 0), (0, 0, 270))):
            Circle(CROQUIS12_R)
    extrude(amount=-CORTAR_EXTRUIR8_DEPTH, mode=Mode.SUBTRACT)

    # Croquis13 → Cortar-Extruir9 (cut)
    with BuildSketch(Plane.XZ):
        with Locations(Location((324.75, -364.25, 0), (0, 0, 270))):
            Circle(CROQUIS13_R)
        with Locations(Location((324.75, -344.25, 0), (0, 0, 270))):
            Circle(CROQUIS13_R)
        with Locations((304.75, -353.25)):
            Rectangle(CROQUIS13_W, CROQUIS13_H)
    extrude(amount=-CORTAR_EXTRUIR9_DEPTH, mode=Mode.SUBTRACT)

    # Croquis14 → Cortar-Extruir10 (cut)
    with BuildSketch(Plane.XZ):
        with Locations((117.75, -141.25)):
            Rectangle(CROQUIS14_W, CROQUIS14_H)
    extrude(amount=-CORTAR_EXTRUIR10_DEPTH, mode=Mode.SUBTRACT)

    # Croquis15 → Cortar-Extruir11 (cut)
    with BuildSketch(Plane.XZ):
        with Locations(Location((419.75, -184.25, 0), (0, 0, 270))):
            Circle(CROQUIS15_R)
        with Locations(Location((419.75, -159.25, 0), (0, 0, 270))):
            Circle(CROQUIS15_R)
    extrude(amount=-CORTAR_EXTRUIR11_DEPTH, mode=Mode.SUBTRACT)

    # Croquis18 → Cortar-Extruir13 (cut)
    with BuildSketch(Plane.XZ):
        Polygon((0.75, -399.25), (439.75, -399.25), (439.75, -398.75), (1.25, -398.75), (0.75, -398.75), align=None)
        with Locations((1, -199.75)):
            Rectangle(CROQUIS18_W, CROQUIS18_H)
    extrude(amount=-CORTAR_EXTRUIR13_DEPTH, mode=Mode.SUBTRACT)

    # Croquis19 → Cortar-Extruir14 (cut)
    with BuildSketch(Plane.XZ):
        with Locations(Location((16.25, -270.75, 0), (0, 0, 270))):
            Circle(CROQUIS19_R)
        with Locations(Location((43.25, -270.75, 0), (0, 0, 270))):
            Circle(CROQUIS19_R)
        with Locations((29.75, -270.75)):
            Rectangle(CROQUIS19_W, CROQUIS19_H)
    extrude(amount=-CORTAR_EXTRUIR14_DEPTH, mode=Mode.SUBTRACT)


solid = part.part
